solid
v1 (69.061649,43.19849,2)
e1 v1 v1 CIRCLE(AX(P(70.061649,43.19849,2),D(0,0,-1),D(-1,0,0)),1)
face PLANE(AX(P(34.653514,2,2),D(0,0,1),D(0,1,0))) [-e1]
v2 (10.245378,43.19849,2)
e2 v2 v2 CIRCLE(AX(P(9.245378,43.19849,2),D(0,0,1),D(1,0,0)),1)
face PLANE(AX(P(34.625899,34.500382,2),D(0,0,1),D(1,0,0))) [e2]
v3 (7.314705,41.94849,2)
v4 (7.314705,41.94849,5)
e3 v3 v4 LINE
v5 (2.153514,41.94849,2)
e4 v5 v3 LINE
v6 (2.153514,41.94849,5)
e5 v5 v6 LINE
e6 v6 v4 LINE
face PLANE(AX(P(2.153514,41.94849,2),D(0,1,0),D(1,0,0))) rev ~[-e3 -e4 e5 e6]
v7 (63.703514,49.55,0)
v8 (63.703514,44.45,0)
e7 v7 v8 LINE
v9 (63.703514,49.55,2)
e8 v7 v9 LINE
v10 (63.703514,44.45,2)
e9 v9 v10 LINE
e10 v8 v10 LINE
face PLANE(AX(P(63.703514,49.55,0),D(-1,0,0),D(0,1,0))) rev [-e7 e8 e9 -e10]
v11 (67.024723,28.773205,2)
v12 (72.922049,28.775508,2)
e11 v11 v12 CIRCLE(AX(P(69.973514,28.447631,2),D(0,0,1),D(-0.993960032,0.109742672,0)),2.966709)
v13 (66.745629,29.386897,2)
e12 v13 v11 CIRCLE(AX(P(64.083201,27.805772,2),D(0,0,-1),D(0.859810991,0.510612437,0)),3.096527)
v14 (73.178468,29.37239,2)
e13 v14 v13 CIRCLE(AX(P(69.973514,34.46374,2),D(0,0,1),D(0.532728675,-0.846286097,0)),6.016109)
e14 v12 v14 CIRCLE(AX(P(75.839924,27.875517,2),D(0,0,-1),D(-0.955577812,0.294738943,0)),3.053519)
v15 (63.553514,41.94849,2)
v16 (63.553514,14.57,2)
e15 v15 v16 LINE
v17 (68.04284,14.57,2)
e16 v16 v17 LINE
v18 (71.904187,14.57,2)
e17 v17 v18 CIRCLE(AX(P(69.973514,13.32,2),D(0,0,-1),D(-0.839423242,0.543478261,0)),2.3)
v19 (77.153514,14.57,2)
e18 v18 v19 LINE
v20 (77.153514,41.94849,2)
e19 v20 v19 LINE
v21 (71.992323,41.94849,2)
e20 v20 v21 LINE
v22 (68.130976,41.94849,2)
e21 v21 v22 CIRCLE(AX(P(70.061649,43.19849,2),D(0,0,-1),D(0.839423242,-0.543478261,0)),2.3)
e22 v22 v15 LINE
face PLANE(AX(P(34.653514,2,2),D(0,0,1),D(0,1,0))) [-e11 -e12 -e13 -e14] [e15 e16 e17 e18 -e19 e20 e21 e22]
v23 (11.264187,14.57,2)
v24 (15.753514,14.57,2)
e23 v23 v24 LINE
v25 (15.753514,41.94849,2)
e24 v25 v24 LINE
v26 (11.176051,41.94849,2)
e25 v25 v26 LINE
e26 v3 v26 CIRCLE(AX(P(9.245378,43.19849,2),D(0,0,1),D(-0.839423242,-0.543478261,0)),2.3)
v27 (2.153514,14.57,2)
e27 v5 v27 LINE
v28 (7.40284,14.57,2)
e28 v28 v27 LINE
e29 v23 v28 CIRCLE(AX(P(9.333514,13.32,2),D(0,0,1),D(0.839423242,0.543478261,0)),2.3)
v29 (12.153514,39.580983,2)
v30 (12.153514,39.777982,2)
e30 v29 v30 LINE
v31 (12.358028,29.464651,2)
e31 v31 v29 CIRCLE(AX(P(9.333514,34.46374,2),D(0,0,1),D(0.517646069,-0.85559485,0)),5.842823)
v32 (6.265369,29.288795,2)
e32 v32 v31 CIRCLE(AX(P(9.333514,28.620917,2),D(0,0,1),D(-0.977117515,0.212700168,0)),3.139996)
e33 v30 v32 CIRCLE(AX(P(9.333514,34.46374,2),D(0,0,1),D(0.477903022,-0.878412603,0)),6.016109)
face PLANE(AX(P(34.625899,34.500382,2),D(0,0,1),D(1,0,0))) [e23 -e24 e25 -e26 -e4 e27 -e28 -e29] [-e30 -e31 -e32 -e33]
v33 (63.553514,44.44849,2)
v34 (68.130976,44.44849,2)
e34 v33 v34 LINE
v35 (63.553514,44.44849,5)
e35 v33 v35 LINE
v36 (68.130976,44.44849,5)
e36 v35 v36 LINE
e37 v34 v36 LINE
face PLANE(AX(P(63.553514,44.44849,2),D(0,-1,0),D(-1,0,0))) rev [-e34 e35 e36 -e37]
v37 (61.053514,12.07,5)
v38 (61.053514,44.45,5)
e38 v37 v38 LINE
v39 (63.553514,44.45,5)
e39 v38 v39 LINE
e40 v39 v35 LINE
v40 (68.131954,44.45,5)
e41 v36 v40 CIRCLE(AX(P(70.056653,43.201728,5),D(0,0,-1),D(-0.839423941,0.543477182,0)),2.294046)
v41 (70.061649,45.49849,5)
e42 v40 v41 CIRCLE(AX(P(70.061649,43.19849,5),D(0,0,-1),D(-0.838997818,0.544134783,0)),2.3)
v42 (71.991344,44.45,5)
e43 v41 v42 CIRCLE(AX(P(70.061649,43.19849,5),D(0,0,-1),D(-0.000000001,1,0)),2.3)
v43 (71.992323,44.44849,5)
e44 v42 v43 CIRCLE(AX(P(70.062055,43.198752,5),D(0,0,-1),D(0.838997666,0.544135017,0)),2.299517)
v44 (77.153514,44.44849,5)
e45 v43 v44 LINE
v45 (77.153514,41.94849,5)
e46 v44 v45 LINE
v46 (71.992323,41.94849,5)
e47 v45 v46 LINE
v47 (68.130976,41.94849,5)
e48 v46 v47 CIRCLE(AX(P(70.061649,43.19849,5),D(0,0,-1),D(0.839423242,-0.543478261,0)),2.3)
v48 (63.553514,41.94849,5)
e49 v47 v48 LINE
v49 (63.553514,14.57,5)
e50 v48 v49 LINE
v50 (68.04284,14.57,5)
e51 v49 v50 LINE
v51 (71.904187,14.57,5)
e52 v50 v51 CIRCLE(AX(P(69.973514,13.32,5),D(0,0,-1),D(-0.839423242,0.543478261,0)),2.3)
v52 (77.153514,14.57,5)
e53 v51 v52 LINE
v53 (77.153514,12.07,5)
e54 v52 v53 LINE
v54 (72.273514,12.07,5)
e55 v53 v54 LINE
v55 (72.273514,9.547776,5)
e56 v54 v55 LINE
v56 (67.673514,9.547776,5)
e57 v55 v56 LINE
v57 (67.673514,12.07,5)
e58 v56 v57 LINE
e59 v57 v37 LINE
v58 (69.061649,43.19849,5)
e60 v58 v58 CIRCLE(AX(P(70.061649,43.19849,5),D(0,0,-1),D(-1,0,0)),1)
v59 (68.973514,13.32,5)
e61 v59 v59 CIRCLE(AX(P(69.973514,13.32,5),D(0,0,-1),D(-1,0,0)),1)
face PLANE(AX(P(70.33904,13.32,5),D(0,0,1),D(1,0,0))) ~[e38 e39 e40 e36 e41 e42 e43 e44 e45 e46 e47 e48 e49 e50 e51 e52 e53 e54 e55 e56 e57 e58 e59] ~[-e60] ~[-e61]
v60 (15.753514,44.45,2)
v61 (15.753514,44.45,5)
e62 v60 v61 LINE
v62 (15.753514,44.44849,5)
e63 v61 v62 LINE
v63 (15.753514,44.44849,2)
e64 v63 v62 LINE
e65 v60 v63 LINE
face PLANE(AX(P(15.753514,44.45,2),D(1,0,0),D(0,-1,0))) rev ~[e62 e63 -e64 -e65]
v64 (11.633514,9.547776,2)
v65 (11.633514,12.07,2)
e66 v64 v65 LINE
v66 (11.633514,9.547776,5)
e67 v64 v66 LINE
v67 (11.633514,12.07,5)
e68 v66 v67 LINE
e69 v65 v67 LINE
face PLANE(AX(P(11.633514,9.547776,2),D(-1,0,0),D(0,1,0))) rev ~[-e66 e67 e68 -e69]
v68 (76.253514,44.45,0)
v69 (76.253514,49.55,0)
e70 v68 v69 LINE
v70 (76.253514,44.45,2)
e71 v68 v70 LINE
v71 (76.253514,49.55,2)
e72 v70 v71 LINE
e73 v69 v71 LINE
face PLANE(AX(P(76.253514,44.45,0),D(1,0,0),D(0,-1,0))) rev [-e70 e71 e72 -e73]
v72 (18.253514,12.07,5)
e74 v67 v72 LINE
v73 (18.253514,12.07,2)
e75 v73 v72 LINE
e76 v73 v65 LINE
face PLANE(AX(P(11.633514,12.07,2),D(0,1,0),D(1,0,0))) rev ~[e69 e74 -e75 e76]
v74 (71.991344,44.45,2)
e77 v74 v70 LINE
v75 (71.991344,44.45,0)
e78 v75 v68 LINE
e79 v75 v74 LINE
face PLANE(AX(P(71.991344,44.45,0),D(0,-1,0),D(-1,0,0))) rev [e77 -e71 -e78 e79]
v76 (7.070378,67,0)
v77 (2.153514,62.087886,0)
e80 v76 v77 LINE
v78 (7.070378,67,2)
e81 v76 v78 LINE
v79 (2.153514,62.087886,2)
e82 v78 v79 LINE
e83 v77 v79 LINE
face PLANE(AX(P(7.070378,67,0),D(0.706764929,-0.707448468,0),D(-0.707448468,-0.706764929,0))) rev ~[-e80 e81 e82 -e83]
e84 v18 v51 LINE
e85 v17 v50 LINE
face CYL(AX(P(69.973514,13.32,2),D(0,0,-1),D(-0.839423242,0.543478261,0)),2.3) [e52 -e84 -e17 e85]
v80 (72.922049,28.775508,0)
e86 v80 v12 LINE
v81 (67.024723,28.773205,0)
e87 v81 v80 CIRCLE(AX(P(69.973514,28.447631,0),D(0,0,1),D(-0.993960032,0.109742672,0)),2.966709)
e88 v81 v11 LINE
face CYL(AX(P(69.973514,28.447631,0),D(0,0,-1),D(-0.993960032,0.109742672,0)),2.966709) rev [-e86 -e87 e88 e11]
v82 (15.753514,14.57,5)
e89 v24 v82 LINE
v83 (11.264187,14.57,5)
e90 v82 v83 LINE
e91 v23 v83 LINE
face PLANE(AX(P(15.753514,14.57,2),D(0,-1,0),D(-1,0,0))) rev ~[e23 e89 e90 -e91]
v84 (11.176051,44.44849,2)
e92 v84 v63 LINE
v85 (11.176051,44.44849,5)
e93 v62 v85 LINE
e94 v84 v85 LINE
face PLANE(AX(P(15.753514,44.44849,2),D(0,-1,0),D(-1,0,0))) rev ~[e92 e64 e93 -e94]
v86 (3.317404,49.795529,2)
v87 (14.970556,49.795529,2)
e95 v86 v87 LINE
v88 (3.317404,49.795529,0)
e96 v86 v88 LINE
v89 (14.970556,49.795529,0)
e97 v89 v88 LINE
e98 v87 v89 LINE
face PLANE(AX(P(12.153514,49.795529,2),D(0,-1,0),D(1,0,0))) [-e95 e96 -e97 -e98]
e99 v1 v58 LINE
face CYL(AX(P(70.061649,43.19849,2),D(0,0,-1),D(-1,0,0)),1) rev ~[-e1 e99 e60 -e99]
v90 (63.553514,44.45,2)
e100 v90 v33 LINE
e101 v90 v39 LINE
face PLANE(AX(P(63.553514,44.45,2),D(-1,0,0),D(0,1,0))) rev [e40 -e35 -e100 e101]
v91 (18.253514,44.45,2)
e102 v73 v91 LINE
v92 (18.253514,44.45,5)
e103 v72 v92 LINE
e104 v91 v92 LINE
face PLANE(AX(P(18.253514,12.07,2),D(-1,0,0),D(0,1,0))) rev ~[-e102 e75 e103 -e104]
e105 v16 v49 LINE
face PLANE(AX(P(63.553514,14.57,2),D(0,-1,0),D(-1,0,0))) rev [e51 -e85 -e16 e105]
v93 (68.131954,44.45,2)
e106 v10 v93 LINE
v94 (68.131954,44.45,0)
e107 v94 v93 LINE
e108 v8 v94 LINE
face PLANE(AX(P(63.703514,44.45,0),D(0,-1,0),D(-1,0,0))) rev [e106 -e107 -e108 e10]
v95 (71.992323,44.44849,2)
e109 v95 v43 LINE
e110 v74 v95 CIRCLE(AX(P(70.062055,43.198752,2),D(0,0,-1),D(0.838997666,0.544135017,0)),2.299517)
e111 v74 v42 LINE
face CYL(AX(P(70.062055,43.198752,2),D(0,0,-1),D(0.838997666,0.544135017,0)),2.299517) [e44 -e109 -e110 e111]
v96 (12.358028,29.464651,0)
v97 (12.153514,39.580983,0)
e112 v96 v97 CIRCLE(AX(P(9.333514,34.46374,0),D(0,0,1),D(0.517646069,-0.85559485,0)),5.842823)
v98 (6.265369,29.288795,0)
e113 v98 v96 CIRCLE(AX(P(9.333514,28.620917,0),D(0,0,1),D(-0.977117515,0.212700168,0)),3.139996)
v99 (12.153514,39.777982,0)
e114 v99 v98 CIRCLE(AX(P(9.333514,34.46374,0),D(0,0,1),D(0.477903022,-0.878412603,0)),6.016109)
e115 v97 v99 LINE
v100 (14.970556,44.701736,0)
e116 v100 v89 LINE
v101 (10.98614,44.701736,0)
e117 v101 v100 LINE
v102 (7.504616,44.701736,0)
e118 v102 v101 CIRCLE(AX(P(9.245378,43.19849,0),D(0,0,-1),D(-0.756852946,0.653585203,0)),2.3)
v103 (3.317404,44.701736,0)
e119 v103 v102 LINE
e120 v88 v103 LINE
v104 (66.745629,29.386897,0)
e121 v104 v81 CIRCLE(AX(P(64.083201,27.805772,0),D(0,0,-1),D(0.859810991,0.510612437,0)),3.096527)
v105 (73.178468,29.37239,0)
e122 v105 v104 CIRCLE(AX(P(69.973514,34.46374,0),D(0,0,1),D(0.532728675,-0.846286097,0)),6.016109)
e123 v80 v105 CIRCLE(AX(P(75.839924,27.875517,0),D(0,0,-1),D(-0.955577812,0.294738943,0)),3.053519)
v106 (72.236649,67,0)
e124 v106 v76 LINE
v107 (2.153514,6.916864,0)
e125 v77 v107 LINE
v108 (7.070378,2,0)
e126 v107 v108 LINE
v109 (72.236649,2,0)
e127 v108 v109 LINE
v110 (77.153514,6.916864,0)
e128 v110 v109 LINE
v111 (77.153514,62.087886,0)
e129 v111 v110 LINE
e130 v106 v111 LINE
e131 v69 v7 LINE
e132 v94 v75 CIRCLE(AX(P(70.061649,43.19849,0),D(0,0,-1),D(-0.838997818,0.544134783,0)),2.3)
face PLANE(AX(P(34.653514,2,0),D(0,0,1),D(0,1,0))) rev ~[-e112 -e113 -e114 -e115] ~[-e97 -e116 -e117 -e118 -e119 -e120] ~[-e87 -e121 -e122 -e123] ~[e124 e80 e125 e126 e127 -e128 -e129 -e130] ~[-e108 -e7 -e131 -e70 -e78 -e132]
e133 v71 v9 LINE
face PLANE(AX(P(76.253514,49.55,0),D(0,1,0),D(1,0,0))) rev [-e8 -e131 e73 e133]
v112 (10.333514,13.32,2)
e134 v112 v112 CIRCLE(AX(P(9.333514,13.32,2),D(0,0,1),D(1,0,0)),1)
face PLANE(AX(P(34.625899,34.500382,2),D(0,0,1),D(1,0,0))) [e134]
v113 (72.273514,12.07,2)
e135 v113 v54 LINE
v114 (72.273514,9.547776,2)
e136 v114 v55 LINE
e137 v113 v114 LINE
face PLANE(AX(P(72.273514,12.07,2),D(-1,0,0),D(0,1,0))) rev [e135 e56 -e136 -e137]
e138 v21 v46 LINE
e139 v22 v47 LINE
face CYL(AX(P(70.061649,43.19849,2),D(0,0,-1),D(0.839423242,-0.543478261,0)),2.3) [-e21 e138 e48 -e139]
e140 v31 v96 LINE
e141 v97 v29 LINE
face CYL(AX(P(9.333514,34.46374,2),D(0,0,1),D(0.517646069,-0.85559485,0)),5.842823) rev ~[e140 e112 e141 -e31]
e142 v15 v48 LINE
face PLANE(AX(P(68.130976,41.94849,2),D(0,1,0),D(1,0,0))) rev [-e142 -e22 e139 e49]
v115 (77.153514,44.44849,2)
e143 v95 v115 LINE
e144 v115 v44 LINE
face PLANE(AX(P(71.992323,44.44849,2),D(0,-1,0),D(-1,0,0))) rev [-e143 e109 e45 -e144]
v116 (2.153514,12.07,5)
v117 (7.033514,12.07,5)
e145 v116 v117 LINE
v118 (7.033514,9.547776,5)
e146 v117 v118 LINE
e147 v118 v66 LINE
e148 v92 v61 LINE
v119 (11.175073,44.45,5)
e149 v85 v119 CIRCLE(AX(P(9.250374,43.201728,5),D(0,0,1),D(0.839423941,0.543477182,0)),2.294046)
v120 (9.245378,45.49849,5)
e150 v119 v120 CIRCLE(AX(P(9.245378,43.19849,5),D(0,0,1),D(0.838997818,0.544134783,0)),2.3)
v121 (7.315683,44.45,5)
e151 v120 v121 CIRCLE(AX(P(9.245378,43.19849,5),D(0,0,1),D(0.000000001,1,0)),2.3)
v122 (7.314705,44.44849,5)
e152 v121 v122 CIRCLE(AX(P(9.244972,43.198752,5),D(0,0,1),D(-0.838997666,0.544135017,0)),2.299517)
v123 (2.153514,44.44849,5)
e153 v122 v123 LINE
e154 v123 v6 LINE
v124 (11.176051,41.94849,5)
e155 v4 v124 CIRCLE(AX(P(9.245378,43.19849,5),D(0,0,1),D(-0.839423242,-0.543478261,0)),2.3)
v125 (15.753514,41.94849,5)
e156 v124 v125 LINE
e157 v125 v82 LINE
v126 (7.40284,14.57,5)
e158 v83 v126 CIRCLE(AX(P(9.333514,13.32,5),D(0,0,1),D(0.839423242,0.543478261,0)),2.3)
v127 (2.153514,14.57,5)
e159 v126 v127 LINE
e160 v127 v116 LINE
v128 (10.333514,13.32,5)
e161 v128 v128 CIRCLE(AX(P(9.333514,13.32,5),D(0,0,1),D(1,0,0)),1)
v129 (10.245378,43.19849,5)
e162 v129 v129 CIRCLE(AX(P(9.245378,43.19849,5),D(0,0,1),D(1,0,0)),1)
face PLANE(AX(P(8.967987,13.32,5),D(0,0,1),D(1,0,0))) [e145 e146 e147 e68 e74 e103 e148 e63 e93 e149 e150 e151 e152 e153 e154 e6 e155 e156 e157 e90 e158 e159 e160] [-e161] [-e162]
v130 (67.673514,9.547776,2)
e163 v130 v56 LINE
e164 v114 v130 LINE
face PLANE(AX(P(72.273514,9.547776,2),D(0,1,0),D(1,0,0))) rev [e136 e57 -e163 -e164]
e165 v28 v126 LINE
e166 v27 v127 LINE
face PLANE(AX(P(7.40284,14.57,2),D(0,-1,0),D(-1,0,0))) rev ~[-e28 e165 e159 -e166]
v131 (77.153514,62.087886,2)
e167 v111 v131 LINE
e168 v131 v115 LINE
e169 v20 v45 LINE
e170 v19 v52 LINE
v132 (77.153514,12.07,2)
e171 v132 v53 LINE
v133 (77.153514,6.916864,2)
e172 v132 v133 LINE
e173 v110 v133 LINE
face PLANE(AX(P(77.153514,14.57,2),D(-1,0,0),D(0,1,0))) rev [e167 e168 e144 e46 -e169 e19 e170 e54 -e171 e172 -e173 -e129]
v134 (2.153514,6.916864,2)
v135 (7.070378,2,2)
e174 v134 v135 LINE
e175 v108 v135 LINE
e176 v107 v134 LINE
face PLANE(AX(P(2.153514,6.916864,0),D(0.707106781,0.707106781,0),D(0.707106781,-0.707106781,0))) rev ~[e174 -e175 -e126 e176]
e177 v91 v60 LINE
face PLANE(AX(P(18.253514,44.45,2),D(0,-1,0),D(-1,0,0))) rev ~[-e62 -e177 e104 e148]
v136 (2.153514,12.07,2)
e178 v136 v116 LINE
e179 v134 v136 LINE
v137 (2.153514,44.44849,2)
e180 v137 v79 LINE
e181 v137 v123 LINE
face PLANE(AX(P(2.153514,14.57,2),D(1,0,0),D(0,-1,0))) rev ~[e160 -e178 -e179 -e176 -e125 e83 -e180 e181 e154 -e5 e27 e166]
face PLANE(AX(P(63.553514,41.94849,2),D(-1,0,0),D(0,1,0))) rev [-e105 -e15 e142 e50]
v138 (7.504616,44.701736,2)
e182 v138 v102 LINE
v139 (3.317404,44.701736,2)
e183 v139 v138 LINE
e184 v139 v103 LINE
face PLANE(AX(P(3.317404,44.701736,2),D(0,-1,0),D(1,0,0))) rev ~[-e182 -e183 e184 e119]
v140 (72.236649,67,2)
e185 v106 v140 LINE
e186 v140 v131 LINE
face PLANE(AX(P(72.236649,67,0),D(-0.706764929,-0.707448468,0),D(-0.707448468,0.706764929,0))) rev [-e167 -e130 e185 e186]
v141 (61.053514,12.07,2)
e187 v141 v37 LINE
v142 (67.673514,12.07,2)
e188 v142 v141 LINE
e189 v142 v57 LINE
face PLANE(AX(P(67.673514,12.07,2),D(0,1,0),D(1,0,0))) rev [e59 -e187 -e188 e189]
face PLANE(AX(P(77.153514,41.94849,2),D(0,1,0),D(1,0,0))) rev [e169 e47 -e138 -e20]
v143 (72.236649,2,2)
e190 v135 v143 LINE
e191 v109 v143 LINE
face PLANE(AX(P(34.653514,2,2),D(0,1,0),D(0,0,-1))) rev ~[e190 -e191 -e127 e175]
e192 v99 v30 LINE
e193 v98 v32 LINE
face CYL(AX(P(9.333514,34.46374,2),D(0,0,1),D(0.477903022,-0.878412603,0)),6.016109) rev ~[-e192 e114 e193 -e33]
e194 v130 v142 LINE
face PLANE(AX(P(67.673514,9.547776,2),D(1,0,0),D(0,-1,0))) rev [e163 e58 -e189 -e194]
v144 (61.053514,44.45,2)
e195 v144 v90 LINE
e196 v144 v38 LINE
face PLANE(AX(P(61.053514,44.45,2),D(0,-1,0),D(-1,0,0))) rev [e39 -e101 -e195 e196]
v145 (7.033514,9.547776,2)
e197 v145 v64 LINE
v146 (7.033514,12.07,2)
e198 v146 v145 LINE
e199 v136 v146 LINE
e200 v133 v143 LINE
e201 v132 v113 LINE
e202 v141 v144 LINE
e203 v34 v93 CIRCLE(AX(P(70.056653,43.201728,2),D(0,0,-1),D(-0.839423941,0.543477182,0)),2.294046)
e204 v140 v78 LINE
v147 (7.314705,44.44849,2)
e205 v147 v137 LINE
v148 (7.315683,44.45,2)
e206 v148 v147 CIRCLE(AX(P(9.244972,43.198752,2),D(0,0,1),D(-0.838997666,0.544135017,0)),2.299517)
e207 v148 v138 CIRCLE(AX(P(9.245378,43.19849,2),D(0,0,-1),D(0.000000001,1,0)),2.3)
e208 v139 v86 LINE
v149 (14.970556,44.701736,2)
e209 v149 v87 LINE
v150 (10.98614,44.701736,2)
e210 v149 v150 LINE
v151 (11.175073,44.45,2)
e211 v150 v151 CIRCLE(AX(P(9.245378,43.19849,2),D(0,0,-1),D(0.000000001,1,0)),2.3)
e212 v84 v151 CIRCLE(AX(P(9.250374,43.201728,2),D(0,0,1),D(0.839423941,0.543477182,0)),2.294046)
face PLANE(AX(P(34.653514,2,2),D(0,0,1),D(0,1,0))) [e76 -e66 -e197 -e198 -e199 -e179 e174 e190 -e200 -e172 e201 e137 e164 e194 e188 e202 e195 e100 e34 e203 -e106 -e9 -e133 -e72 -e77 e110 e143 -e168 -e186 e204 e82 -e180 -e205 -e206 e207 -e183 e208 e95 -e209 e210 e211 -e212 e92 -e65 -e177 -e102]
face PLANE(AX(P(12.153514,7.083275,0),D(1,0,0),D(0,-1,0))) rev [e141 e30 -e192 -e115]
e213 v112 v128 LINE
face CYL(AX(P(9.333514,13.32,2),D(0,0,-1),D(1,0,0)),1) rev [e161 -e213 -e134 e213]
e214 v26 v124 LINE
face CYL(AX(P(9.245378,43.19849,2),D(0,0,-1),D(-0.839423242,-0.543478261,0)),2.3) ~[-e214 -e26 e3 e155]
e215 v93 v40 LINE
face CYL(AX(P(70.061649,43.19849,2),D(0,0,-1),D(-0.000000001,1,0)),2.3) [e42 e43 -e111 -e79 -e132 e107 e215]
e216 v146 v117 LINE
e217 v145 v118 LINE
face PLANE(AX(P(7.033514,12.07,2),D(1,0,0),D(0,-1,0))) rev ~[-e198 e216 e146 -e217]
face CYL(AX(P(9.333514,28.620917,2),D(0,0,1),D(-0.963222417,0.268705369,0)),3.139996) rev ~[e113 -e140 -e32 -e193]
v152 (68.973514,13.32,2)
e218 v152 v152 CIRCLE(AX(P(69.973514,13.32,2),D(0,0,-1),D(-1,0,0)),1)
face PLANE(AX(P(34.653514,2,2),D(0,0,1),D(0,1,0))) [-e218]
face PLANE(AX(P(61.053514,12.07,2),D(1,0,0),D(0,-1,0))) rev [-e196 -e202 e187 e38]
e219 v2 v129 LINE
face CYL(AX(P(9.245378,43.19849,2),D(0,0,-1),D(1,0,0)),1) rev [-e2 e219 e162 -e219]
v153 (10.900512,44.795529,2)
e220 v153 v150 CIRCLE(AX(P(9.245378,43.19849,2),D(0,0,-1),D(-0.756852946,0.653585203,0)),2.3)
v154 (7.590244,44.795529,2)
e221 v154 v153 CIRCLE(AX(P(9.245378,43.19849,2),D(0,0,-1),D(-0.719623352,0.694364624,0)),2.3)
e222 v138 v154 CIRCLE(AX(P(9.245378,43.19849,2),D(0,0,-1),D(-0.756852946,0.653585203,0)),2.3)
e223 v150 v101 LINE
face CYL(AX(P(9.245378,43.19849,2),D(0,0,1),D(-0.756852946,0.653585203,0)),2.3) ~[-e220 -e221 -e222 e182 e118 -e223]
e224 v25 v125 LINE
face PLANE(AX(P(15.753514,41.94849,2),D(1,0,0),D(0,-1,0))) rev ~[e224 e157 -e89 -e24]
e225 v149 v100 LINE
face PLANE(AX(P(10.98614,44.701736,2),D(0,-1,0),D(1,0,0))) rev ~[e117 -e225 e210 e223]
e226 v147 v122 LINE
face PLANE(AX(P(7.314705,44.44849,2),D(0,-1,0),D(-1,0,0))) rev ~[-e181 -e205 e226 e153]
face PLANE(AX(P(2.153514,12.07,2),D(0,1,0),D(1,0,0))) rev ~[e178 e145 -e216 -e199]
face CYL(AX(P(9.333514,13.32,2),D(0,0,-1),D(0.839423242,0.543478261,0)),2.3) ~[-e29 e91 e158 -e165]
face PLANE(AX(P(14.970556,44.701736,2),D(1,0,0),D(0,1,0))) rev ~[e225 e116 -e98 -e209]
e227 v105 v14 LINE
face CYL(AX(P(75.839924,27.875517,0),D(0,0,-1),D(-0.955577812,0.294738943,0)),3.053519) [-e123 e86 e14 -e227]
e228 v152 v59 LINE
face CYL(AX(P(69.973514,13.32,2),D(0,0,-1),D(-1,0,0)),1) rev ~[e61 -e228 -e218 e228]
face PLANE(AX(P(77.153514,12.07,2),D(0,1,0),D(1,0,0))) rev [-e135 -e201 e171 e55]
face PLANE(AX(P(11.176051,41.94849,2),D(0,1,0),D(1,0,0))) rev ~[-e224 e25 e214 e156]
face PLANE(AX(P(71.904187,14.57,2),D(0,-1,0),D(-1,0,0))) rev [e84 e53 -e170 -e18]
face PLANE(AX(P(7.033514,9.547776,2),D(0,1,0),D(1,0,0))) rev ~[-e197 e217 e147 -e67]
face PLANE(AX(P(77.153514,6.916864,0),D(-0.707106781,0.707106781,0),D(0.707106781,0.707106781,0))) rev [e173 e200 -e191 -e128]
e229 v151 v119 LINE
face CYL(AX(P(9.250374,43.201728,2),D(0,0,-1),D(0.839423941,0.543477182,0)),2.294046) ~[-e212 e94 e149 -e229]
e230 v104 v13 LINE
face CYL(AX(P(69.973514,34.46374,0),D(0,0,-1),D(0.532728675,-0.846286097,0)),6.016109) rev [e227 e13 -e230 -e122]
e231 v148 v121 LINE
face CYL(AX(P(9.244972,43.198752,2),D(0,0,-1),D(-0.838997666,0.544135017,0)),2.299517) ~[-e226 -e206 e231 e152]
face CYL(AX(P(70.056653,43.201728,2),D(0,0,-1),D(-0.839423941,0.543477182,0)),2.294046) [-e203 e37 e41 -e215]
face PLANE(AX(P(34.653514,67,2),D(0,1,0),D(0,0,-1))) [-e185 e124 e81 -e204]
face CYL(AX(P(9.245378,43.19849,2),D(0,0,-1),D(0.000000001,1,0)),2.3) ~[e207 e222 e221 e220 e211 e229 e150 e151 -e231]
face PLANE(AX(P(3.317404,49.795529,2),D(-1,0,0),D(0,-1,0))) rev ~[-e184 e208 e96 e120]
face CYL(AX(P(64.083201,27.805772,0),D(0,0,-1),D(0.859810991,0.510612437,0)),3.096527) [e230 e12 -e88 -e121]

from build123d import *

# Parameters (mm, degrees)
BOSS_EXTRUDE3_DEPTH = 2
SKETCH7_R           = 1
SKETCH7_W           = 2.5
SKETCH7_H           = 2.5
BOSS_EXTRUDE5_DEPTH = 3
SKETCH15_R          = 6.016109345
SKETCH15_R_2        = 2.966709341
CUT_EXTRUDE5_DEPTH  = 3
CUT_EXTRUDE6_DEPTH  = 3
CUT_EXTRUDE7_DEPTH  = 10
SKETCH30_W          = 2
SKETCH30_H          = 65
BOSS_EXTRUDE6_DEPTH = 5
SKETCH31_R          = 3.139995771
SKETCH31_R_2        = 5.842822915
CUT_EXTRUDE8_DEPTH  = 5
SKETCH33_W          = 2.81704287
SKETCH33_H          = 5.093792668
CUT_EXTRUDE9_DEPTH  = 5


with BuildPart() as part:
    # Sketch2 → Boss-Extrude3 (new body)
    with BuildSketch(Plane.XY):
        Polygon((62.078732257, 67), (7.070378023, 67), (2.153513577, 62.087886246), (2.153513577, 6.916864445), (7.070378023, 2), (62.078732257, 2), (67.153513577, 7.083274694), (67.153513577, 61.921636784), align=None)
        with BuildLine():
            ThreePointArc((12.561398281, 29.386897281), (12.405099811, 29.087669445), (12.28230409, 28.773205265))
            ThreePointArc((12.28230409, 28.773205265), (9.332354964, 25.48092154), (6.384978263, 28.775508397))
            ThreePointArc((6.384978263, 28.775508397), (6.272687262, 29.080787813), (6.128559615, 29.372390302))
            ThreePointArc((6.128559615, 29.372390302), (9.319946418, 40.479834047), (12.561398281, 29.386897281))
        make_face(mode=Mode.SUBTRACT)
        with BuildLine():
            Line((7.315683042, 44.45), (3.053513577, 44.45))
            Line((3.053513577, 44.45), (3.053513577, 49.55))
            Line((3.053513577, 49.55), (15.603513577, 49.55))
            Line((15.603513577, 49.55), (15.603513577, 44.45))
            Line((15.603513577, 44.45), (11.175073004, 44.45))
            ThreePointArc((11.175073004, 44.45), (9.245378023, 45.49849), (7.315683042, 44.45))
        make_face(mode=Mode.SUBTRACT)
    boss_extrude3 = extrude(amount=BOSS_EXTRUDE3_DEPTH)

    # Sketch7 → Boss-Extrude5 (add)
    with BuildSketch(Plane.XY.offset(2)):
        with BuildLine():
            Line((15.753513577, 14.57), (11.264187035, 14.57))
            ThreePointArc((11.264187035, 14.57), (9.333513577, 15.62), (7.40284012, 14.57))
            Line((7.40284012, 14.57), (2.153513577, 14.57))
            Line((2.153513577, 14.57), (2.153513577, 12.07))
            Line((2.153513577, 12.07), (7.033513577, 12.07))
            Line((7.033513577, 12.07), (7.40284012, 12.07))
            ThreePointArc((7.40284012, 12.07), (9.333513577, 11.02), (11.264187035, 12.07))
            Line((11.264187035, 12.07), (11.633513577, 12.07))
            Line((11.633513577, 12.07), (15.753513577, 12.07))
            Line((15.753513577, 12.07), (15.753513577, 14.57))
        make_face()
        with Locations((9.333513577, 13.32)):
            Circle(SKETCH7_R, mode=Mode.SUBTRACT)
        with BuildLine():
            Line((11.633513577, 9.547776159), (11.633513577, 12.07))
            Line((11.633513577, 12.07), (11.264187035, 12.07))
            ThreePointArc((11.264187035, 12.07), (9.333513577, 11.02), (7.40284012, 12.07))
            Line((7.40284012, 12.07), (7.033513577, 12.07))
            Line((7.033513577, 12.07), (7.033513577, 9.547776159))
            Line((7.033513577, 9.547776159), (11.633513577, 9.547776159))
        make_face()
        with Locations((17.003513577, 13.32)):
            Rectangle(SKETCH7_W, SKETCH7_H)
        with BuildLine():
            Line((15.753513577, 16.534568208), (15.753513577, 14.57))
            Line((15.753513577, 14.57), (18.253513577, 14.57))
            Line((18.253513577, 14.57), (18.253513577, 16.534568208))
            Line((18.253513577, 16.534568208), (18.253513577, 44.45))
            Line((18.253513577, 44.45), (15.753513577, 44.45))
            Line((15.753513577, 44.45), (15.753513577, 44.44849))
            Line((15.753513577, 44.44849), (11.17605148, 44.44849))
            ThreePointArc((11.17605148, 44.44849), (11.17556239, 44.449245096), (11.175073004, 44.45))
            ThreePointArc((11.175073004, 44.45), (10.343450652, 45.219439406), (9.245378023, 45.49849))
            ThreePointArc((9.245378023, 45.49849), (8.147305393, 45.219439406), (7.315683042, 44.45))
            ThreePointArc((7.315683042, 44.45), (7.315193656, 44.449245096), (7.314704565, 44.44849))
            Line((7.314704565, 44.44849), (2.153513577, 44.44849))
            Line((2.153513577, 44.44849), (2.153513577, 41.94849))
            Line((2.153513577, 41.94849), (7.314704565, 41.94849))
            ThreePointArc((7.314704565, 41.94849), (9.245378023, 40.89849), (11.17605148, 41.94849))
            Line((11.17605148, 41.94849), (15.753513577, 41.94849))
            Line((15.753513577, 41.94849), (15.753513577, 16.534568208))
        make_face()
        with Locations((9.245378023, 43.19849)):
            Circle(SKETCH7_R, mode=Mode.SUBTRACT)
    boss_extrude5 = extrude(amount=BOSS_EXTRUDE5_DEPTH)

    # Mirror4: Boss-Extrude3, Boss-Extrude5 across plane
    add(boss_extrude3.mirror(Plane.ZY.offset(-34.653513577)))
    add(boss_extrude5.mirror(Plane.ZY.offset(-34.653513577)))

    # Sketch15 → Cut-Extrude5 (cut)
    with BuildSketch(Plane.XY.offset(2)):
        with Locations((9.333513577, 34.46374)):
            Circle(SKETCH15_R)
        with Locations((9.333513577, 28.447630655)):
            Circle(SKETCH15_R_2)
    cut_extrude5 = extrude(amount=-CUT_EXTRUDE5_DEPTH, mode=Mode.SUBTRACT)

    # Sketch21 → Cut-Extrude6 (cut)
    with BuildSketch(Plane.XY.offset(2)):
        with BuildLine():
            Line((3.317404233, 44.701735967), (7.504616246, 44.701735967))
            ThreePointArc((7.504616246, 44.701735967), (9.245378023, 45.49849), (10.986139799, 44.701735967))
            Line((10.986139799, 44.701735967), (15.349622922, 44.701735967))
            Line((15.349622922, 44.701735967), (15.349622922, 49.701735967))
            Line((15.349622922, 49.701735967), (3.317404233, 49.701735967))
            Line((3.317404233, 49.701735967), (3.317404233, 44.701735967))
        make_face()
    extrude(amount=-CUT_EXTRUDE6_DEPTH, mode=Mode.SUBTRACT)

    # Sketch29 → Cut-Extrude7 (cut)
    with BuildSketch(Plane.XY.offset(2)):
        with BuildLine():
            Line((3.317404233, 44.795528635), (7.590244313, 44.795528635))
            ThreePointArc((7.590244313, 44.795528635), (9.245378023, 45.49849), (10.900511733, 44.795528635))
            Line((10.900511733, 44.795528635), (15.349622922, 44.795528635))
            Line((15.349622922, 44.795528635), (15.349622922, 49.795528635))
            Line((15.349622922, 49.795528635), (3.317404233, 49.795528635))
            Line((3.317404233, 49.795528635), (3.317404233, 44.795528635))
        make_face()
    cut_extrude7 = extrude(amount=-CUT_EXTRUDE7_DEPTH, mode=Mode.SUBTRACT)

    # Mirror9: Cut-Extrude7 across plane
    add(cut_extrude7.mirror(Plane.ZY.offset(-34.653513577)), mode=Mode.SUBTRACT)

    # Mirror5: Cut-Extrude5 across plane
    add(cut_extrude5.mirror(Plane.ZY.offset(-34.653513577)), mode=Mode.SUBTRACT)

    # SurfaceCut1
    split(bisect_by=Plane.ZY.offset(-34.653513577), keep=Keep.TOP)

    # Sketch30 → Boss-Extrude6 (add)
    with BuildSketch(Plane(origin=(34.653513577, 0, 0), x_dir=(0, 0, -1), z_dir=(1, 0, 0))):
        with Locations((-1, 34.5)):
            Rectangle(SKETCH30_W, SKETCH30_H)
    extrude(amount=BOSS_EXTRUDE6_DEPTH)

    # Mirror12: Boss-Extrude3, Boss-Extrude5 across plane
    add(boss_extrude3.mirror(Plane(origin=(39.653513577, 0, 0), x_dir=(0, 0, 1), z_dir=(1, 0, 0))))
    add(boss_extrude5.mirror(Plane(origin=(39.653513577, 0, 0), x_dir=(0, 0, 1), z_dir=(1, 0, 0))))

    # Sketch31 → Cut-Extrude8 (cut)
    with BuildSketch(Plane.XY.offset(2)):
        with Locations((9.333513577, 28.620917085)):
            Circle(SKETCH31_R)
        with Locations((9.333513577, 34.46374)):
            Circle(SKETCH31_R_2)
    extrude(amount=-CUT_EXTRUDE8_DEPTH, mode=Mode.SUBTRACT)

    # Sketch33 → Cut-Extrude9 (cut)
    with BuildSketch(Plane.XY.offset(2)):
        with Locations((13.562035012, 47.248632301)):
            Rectangle(SKETCH33_W, SKETCH33_H)
    extrude(amount=-CUT_EXTRUDE9_DEPTH, mode=Mode.SUBTRACT)


solid = part.part
